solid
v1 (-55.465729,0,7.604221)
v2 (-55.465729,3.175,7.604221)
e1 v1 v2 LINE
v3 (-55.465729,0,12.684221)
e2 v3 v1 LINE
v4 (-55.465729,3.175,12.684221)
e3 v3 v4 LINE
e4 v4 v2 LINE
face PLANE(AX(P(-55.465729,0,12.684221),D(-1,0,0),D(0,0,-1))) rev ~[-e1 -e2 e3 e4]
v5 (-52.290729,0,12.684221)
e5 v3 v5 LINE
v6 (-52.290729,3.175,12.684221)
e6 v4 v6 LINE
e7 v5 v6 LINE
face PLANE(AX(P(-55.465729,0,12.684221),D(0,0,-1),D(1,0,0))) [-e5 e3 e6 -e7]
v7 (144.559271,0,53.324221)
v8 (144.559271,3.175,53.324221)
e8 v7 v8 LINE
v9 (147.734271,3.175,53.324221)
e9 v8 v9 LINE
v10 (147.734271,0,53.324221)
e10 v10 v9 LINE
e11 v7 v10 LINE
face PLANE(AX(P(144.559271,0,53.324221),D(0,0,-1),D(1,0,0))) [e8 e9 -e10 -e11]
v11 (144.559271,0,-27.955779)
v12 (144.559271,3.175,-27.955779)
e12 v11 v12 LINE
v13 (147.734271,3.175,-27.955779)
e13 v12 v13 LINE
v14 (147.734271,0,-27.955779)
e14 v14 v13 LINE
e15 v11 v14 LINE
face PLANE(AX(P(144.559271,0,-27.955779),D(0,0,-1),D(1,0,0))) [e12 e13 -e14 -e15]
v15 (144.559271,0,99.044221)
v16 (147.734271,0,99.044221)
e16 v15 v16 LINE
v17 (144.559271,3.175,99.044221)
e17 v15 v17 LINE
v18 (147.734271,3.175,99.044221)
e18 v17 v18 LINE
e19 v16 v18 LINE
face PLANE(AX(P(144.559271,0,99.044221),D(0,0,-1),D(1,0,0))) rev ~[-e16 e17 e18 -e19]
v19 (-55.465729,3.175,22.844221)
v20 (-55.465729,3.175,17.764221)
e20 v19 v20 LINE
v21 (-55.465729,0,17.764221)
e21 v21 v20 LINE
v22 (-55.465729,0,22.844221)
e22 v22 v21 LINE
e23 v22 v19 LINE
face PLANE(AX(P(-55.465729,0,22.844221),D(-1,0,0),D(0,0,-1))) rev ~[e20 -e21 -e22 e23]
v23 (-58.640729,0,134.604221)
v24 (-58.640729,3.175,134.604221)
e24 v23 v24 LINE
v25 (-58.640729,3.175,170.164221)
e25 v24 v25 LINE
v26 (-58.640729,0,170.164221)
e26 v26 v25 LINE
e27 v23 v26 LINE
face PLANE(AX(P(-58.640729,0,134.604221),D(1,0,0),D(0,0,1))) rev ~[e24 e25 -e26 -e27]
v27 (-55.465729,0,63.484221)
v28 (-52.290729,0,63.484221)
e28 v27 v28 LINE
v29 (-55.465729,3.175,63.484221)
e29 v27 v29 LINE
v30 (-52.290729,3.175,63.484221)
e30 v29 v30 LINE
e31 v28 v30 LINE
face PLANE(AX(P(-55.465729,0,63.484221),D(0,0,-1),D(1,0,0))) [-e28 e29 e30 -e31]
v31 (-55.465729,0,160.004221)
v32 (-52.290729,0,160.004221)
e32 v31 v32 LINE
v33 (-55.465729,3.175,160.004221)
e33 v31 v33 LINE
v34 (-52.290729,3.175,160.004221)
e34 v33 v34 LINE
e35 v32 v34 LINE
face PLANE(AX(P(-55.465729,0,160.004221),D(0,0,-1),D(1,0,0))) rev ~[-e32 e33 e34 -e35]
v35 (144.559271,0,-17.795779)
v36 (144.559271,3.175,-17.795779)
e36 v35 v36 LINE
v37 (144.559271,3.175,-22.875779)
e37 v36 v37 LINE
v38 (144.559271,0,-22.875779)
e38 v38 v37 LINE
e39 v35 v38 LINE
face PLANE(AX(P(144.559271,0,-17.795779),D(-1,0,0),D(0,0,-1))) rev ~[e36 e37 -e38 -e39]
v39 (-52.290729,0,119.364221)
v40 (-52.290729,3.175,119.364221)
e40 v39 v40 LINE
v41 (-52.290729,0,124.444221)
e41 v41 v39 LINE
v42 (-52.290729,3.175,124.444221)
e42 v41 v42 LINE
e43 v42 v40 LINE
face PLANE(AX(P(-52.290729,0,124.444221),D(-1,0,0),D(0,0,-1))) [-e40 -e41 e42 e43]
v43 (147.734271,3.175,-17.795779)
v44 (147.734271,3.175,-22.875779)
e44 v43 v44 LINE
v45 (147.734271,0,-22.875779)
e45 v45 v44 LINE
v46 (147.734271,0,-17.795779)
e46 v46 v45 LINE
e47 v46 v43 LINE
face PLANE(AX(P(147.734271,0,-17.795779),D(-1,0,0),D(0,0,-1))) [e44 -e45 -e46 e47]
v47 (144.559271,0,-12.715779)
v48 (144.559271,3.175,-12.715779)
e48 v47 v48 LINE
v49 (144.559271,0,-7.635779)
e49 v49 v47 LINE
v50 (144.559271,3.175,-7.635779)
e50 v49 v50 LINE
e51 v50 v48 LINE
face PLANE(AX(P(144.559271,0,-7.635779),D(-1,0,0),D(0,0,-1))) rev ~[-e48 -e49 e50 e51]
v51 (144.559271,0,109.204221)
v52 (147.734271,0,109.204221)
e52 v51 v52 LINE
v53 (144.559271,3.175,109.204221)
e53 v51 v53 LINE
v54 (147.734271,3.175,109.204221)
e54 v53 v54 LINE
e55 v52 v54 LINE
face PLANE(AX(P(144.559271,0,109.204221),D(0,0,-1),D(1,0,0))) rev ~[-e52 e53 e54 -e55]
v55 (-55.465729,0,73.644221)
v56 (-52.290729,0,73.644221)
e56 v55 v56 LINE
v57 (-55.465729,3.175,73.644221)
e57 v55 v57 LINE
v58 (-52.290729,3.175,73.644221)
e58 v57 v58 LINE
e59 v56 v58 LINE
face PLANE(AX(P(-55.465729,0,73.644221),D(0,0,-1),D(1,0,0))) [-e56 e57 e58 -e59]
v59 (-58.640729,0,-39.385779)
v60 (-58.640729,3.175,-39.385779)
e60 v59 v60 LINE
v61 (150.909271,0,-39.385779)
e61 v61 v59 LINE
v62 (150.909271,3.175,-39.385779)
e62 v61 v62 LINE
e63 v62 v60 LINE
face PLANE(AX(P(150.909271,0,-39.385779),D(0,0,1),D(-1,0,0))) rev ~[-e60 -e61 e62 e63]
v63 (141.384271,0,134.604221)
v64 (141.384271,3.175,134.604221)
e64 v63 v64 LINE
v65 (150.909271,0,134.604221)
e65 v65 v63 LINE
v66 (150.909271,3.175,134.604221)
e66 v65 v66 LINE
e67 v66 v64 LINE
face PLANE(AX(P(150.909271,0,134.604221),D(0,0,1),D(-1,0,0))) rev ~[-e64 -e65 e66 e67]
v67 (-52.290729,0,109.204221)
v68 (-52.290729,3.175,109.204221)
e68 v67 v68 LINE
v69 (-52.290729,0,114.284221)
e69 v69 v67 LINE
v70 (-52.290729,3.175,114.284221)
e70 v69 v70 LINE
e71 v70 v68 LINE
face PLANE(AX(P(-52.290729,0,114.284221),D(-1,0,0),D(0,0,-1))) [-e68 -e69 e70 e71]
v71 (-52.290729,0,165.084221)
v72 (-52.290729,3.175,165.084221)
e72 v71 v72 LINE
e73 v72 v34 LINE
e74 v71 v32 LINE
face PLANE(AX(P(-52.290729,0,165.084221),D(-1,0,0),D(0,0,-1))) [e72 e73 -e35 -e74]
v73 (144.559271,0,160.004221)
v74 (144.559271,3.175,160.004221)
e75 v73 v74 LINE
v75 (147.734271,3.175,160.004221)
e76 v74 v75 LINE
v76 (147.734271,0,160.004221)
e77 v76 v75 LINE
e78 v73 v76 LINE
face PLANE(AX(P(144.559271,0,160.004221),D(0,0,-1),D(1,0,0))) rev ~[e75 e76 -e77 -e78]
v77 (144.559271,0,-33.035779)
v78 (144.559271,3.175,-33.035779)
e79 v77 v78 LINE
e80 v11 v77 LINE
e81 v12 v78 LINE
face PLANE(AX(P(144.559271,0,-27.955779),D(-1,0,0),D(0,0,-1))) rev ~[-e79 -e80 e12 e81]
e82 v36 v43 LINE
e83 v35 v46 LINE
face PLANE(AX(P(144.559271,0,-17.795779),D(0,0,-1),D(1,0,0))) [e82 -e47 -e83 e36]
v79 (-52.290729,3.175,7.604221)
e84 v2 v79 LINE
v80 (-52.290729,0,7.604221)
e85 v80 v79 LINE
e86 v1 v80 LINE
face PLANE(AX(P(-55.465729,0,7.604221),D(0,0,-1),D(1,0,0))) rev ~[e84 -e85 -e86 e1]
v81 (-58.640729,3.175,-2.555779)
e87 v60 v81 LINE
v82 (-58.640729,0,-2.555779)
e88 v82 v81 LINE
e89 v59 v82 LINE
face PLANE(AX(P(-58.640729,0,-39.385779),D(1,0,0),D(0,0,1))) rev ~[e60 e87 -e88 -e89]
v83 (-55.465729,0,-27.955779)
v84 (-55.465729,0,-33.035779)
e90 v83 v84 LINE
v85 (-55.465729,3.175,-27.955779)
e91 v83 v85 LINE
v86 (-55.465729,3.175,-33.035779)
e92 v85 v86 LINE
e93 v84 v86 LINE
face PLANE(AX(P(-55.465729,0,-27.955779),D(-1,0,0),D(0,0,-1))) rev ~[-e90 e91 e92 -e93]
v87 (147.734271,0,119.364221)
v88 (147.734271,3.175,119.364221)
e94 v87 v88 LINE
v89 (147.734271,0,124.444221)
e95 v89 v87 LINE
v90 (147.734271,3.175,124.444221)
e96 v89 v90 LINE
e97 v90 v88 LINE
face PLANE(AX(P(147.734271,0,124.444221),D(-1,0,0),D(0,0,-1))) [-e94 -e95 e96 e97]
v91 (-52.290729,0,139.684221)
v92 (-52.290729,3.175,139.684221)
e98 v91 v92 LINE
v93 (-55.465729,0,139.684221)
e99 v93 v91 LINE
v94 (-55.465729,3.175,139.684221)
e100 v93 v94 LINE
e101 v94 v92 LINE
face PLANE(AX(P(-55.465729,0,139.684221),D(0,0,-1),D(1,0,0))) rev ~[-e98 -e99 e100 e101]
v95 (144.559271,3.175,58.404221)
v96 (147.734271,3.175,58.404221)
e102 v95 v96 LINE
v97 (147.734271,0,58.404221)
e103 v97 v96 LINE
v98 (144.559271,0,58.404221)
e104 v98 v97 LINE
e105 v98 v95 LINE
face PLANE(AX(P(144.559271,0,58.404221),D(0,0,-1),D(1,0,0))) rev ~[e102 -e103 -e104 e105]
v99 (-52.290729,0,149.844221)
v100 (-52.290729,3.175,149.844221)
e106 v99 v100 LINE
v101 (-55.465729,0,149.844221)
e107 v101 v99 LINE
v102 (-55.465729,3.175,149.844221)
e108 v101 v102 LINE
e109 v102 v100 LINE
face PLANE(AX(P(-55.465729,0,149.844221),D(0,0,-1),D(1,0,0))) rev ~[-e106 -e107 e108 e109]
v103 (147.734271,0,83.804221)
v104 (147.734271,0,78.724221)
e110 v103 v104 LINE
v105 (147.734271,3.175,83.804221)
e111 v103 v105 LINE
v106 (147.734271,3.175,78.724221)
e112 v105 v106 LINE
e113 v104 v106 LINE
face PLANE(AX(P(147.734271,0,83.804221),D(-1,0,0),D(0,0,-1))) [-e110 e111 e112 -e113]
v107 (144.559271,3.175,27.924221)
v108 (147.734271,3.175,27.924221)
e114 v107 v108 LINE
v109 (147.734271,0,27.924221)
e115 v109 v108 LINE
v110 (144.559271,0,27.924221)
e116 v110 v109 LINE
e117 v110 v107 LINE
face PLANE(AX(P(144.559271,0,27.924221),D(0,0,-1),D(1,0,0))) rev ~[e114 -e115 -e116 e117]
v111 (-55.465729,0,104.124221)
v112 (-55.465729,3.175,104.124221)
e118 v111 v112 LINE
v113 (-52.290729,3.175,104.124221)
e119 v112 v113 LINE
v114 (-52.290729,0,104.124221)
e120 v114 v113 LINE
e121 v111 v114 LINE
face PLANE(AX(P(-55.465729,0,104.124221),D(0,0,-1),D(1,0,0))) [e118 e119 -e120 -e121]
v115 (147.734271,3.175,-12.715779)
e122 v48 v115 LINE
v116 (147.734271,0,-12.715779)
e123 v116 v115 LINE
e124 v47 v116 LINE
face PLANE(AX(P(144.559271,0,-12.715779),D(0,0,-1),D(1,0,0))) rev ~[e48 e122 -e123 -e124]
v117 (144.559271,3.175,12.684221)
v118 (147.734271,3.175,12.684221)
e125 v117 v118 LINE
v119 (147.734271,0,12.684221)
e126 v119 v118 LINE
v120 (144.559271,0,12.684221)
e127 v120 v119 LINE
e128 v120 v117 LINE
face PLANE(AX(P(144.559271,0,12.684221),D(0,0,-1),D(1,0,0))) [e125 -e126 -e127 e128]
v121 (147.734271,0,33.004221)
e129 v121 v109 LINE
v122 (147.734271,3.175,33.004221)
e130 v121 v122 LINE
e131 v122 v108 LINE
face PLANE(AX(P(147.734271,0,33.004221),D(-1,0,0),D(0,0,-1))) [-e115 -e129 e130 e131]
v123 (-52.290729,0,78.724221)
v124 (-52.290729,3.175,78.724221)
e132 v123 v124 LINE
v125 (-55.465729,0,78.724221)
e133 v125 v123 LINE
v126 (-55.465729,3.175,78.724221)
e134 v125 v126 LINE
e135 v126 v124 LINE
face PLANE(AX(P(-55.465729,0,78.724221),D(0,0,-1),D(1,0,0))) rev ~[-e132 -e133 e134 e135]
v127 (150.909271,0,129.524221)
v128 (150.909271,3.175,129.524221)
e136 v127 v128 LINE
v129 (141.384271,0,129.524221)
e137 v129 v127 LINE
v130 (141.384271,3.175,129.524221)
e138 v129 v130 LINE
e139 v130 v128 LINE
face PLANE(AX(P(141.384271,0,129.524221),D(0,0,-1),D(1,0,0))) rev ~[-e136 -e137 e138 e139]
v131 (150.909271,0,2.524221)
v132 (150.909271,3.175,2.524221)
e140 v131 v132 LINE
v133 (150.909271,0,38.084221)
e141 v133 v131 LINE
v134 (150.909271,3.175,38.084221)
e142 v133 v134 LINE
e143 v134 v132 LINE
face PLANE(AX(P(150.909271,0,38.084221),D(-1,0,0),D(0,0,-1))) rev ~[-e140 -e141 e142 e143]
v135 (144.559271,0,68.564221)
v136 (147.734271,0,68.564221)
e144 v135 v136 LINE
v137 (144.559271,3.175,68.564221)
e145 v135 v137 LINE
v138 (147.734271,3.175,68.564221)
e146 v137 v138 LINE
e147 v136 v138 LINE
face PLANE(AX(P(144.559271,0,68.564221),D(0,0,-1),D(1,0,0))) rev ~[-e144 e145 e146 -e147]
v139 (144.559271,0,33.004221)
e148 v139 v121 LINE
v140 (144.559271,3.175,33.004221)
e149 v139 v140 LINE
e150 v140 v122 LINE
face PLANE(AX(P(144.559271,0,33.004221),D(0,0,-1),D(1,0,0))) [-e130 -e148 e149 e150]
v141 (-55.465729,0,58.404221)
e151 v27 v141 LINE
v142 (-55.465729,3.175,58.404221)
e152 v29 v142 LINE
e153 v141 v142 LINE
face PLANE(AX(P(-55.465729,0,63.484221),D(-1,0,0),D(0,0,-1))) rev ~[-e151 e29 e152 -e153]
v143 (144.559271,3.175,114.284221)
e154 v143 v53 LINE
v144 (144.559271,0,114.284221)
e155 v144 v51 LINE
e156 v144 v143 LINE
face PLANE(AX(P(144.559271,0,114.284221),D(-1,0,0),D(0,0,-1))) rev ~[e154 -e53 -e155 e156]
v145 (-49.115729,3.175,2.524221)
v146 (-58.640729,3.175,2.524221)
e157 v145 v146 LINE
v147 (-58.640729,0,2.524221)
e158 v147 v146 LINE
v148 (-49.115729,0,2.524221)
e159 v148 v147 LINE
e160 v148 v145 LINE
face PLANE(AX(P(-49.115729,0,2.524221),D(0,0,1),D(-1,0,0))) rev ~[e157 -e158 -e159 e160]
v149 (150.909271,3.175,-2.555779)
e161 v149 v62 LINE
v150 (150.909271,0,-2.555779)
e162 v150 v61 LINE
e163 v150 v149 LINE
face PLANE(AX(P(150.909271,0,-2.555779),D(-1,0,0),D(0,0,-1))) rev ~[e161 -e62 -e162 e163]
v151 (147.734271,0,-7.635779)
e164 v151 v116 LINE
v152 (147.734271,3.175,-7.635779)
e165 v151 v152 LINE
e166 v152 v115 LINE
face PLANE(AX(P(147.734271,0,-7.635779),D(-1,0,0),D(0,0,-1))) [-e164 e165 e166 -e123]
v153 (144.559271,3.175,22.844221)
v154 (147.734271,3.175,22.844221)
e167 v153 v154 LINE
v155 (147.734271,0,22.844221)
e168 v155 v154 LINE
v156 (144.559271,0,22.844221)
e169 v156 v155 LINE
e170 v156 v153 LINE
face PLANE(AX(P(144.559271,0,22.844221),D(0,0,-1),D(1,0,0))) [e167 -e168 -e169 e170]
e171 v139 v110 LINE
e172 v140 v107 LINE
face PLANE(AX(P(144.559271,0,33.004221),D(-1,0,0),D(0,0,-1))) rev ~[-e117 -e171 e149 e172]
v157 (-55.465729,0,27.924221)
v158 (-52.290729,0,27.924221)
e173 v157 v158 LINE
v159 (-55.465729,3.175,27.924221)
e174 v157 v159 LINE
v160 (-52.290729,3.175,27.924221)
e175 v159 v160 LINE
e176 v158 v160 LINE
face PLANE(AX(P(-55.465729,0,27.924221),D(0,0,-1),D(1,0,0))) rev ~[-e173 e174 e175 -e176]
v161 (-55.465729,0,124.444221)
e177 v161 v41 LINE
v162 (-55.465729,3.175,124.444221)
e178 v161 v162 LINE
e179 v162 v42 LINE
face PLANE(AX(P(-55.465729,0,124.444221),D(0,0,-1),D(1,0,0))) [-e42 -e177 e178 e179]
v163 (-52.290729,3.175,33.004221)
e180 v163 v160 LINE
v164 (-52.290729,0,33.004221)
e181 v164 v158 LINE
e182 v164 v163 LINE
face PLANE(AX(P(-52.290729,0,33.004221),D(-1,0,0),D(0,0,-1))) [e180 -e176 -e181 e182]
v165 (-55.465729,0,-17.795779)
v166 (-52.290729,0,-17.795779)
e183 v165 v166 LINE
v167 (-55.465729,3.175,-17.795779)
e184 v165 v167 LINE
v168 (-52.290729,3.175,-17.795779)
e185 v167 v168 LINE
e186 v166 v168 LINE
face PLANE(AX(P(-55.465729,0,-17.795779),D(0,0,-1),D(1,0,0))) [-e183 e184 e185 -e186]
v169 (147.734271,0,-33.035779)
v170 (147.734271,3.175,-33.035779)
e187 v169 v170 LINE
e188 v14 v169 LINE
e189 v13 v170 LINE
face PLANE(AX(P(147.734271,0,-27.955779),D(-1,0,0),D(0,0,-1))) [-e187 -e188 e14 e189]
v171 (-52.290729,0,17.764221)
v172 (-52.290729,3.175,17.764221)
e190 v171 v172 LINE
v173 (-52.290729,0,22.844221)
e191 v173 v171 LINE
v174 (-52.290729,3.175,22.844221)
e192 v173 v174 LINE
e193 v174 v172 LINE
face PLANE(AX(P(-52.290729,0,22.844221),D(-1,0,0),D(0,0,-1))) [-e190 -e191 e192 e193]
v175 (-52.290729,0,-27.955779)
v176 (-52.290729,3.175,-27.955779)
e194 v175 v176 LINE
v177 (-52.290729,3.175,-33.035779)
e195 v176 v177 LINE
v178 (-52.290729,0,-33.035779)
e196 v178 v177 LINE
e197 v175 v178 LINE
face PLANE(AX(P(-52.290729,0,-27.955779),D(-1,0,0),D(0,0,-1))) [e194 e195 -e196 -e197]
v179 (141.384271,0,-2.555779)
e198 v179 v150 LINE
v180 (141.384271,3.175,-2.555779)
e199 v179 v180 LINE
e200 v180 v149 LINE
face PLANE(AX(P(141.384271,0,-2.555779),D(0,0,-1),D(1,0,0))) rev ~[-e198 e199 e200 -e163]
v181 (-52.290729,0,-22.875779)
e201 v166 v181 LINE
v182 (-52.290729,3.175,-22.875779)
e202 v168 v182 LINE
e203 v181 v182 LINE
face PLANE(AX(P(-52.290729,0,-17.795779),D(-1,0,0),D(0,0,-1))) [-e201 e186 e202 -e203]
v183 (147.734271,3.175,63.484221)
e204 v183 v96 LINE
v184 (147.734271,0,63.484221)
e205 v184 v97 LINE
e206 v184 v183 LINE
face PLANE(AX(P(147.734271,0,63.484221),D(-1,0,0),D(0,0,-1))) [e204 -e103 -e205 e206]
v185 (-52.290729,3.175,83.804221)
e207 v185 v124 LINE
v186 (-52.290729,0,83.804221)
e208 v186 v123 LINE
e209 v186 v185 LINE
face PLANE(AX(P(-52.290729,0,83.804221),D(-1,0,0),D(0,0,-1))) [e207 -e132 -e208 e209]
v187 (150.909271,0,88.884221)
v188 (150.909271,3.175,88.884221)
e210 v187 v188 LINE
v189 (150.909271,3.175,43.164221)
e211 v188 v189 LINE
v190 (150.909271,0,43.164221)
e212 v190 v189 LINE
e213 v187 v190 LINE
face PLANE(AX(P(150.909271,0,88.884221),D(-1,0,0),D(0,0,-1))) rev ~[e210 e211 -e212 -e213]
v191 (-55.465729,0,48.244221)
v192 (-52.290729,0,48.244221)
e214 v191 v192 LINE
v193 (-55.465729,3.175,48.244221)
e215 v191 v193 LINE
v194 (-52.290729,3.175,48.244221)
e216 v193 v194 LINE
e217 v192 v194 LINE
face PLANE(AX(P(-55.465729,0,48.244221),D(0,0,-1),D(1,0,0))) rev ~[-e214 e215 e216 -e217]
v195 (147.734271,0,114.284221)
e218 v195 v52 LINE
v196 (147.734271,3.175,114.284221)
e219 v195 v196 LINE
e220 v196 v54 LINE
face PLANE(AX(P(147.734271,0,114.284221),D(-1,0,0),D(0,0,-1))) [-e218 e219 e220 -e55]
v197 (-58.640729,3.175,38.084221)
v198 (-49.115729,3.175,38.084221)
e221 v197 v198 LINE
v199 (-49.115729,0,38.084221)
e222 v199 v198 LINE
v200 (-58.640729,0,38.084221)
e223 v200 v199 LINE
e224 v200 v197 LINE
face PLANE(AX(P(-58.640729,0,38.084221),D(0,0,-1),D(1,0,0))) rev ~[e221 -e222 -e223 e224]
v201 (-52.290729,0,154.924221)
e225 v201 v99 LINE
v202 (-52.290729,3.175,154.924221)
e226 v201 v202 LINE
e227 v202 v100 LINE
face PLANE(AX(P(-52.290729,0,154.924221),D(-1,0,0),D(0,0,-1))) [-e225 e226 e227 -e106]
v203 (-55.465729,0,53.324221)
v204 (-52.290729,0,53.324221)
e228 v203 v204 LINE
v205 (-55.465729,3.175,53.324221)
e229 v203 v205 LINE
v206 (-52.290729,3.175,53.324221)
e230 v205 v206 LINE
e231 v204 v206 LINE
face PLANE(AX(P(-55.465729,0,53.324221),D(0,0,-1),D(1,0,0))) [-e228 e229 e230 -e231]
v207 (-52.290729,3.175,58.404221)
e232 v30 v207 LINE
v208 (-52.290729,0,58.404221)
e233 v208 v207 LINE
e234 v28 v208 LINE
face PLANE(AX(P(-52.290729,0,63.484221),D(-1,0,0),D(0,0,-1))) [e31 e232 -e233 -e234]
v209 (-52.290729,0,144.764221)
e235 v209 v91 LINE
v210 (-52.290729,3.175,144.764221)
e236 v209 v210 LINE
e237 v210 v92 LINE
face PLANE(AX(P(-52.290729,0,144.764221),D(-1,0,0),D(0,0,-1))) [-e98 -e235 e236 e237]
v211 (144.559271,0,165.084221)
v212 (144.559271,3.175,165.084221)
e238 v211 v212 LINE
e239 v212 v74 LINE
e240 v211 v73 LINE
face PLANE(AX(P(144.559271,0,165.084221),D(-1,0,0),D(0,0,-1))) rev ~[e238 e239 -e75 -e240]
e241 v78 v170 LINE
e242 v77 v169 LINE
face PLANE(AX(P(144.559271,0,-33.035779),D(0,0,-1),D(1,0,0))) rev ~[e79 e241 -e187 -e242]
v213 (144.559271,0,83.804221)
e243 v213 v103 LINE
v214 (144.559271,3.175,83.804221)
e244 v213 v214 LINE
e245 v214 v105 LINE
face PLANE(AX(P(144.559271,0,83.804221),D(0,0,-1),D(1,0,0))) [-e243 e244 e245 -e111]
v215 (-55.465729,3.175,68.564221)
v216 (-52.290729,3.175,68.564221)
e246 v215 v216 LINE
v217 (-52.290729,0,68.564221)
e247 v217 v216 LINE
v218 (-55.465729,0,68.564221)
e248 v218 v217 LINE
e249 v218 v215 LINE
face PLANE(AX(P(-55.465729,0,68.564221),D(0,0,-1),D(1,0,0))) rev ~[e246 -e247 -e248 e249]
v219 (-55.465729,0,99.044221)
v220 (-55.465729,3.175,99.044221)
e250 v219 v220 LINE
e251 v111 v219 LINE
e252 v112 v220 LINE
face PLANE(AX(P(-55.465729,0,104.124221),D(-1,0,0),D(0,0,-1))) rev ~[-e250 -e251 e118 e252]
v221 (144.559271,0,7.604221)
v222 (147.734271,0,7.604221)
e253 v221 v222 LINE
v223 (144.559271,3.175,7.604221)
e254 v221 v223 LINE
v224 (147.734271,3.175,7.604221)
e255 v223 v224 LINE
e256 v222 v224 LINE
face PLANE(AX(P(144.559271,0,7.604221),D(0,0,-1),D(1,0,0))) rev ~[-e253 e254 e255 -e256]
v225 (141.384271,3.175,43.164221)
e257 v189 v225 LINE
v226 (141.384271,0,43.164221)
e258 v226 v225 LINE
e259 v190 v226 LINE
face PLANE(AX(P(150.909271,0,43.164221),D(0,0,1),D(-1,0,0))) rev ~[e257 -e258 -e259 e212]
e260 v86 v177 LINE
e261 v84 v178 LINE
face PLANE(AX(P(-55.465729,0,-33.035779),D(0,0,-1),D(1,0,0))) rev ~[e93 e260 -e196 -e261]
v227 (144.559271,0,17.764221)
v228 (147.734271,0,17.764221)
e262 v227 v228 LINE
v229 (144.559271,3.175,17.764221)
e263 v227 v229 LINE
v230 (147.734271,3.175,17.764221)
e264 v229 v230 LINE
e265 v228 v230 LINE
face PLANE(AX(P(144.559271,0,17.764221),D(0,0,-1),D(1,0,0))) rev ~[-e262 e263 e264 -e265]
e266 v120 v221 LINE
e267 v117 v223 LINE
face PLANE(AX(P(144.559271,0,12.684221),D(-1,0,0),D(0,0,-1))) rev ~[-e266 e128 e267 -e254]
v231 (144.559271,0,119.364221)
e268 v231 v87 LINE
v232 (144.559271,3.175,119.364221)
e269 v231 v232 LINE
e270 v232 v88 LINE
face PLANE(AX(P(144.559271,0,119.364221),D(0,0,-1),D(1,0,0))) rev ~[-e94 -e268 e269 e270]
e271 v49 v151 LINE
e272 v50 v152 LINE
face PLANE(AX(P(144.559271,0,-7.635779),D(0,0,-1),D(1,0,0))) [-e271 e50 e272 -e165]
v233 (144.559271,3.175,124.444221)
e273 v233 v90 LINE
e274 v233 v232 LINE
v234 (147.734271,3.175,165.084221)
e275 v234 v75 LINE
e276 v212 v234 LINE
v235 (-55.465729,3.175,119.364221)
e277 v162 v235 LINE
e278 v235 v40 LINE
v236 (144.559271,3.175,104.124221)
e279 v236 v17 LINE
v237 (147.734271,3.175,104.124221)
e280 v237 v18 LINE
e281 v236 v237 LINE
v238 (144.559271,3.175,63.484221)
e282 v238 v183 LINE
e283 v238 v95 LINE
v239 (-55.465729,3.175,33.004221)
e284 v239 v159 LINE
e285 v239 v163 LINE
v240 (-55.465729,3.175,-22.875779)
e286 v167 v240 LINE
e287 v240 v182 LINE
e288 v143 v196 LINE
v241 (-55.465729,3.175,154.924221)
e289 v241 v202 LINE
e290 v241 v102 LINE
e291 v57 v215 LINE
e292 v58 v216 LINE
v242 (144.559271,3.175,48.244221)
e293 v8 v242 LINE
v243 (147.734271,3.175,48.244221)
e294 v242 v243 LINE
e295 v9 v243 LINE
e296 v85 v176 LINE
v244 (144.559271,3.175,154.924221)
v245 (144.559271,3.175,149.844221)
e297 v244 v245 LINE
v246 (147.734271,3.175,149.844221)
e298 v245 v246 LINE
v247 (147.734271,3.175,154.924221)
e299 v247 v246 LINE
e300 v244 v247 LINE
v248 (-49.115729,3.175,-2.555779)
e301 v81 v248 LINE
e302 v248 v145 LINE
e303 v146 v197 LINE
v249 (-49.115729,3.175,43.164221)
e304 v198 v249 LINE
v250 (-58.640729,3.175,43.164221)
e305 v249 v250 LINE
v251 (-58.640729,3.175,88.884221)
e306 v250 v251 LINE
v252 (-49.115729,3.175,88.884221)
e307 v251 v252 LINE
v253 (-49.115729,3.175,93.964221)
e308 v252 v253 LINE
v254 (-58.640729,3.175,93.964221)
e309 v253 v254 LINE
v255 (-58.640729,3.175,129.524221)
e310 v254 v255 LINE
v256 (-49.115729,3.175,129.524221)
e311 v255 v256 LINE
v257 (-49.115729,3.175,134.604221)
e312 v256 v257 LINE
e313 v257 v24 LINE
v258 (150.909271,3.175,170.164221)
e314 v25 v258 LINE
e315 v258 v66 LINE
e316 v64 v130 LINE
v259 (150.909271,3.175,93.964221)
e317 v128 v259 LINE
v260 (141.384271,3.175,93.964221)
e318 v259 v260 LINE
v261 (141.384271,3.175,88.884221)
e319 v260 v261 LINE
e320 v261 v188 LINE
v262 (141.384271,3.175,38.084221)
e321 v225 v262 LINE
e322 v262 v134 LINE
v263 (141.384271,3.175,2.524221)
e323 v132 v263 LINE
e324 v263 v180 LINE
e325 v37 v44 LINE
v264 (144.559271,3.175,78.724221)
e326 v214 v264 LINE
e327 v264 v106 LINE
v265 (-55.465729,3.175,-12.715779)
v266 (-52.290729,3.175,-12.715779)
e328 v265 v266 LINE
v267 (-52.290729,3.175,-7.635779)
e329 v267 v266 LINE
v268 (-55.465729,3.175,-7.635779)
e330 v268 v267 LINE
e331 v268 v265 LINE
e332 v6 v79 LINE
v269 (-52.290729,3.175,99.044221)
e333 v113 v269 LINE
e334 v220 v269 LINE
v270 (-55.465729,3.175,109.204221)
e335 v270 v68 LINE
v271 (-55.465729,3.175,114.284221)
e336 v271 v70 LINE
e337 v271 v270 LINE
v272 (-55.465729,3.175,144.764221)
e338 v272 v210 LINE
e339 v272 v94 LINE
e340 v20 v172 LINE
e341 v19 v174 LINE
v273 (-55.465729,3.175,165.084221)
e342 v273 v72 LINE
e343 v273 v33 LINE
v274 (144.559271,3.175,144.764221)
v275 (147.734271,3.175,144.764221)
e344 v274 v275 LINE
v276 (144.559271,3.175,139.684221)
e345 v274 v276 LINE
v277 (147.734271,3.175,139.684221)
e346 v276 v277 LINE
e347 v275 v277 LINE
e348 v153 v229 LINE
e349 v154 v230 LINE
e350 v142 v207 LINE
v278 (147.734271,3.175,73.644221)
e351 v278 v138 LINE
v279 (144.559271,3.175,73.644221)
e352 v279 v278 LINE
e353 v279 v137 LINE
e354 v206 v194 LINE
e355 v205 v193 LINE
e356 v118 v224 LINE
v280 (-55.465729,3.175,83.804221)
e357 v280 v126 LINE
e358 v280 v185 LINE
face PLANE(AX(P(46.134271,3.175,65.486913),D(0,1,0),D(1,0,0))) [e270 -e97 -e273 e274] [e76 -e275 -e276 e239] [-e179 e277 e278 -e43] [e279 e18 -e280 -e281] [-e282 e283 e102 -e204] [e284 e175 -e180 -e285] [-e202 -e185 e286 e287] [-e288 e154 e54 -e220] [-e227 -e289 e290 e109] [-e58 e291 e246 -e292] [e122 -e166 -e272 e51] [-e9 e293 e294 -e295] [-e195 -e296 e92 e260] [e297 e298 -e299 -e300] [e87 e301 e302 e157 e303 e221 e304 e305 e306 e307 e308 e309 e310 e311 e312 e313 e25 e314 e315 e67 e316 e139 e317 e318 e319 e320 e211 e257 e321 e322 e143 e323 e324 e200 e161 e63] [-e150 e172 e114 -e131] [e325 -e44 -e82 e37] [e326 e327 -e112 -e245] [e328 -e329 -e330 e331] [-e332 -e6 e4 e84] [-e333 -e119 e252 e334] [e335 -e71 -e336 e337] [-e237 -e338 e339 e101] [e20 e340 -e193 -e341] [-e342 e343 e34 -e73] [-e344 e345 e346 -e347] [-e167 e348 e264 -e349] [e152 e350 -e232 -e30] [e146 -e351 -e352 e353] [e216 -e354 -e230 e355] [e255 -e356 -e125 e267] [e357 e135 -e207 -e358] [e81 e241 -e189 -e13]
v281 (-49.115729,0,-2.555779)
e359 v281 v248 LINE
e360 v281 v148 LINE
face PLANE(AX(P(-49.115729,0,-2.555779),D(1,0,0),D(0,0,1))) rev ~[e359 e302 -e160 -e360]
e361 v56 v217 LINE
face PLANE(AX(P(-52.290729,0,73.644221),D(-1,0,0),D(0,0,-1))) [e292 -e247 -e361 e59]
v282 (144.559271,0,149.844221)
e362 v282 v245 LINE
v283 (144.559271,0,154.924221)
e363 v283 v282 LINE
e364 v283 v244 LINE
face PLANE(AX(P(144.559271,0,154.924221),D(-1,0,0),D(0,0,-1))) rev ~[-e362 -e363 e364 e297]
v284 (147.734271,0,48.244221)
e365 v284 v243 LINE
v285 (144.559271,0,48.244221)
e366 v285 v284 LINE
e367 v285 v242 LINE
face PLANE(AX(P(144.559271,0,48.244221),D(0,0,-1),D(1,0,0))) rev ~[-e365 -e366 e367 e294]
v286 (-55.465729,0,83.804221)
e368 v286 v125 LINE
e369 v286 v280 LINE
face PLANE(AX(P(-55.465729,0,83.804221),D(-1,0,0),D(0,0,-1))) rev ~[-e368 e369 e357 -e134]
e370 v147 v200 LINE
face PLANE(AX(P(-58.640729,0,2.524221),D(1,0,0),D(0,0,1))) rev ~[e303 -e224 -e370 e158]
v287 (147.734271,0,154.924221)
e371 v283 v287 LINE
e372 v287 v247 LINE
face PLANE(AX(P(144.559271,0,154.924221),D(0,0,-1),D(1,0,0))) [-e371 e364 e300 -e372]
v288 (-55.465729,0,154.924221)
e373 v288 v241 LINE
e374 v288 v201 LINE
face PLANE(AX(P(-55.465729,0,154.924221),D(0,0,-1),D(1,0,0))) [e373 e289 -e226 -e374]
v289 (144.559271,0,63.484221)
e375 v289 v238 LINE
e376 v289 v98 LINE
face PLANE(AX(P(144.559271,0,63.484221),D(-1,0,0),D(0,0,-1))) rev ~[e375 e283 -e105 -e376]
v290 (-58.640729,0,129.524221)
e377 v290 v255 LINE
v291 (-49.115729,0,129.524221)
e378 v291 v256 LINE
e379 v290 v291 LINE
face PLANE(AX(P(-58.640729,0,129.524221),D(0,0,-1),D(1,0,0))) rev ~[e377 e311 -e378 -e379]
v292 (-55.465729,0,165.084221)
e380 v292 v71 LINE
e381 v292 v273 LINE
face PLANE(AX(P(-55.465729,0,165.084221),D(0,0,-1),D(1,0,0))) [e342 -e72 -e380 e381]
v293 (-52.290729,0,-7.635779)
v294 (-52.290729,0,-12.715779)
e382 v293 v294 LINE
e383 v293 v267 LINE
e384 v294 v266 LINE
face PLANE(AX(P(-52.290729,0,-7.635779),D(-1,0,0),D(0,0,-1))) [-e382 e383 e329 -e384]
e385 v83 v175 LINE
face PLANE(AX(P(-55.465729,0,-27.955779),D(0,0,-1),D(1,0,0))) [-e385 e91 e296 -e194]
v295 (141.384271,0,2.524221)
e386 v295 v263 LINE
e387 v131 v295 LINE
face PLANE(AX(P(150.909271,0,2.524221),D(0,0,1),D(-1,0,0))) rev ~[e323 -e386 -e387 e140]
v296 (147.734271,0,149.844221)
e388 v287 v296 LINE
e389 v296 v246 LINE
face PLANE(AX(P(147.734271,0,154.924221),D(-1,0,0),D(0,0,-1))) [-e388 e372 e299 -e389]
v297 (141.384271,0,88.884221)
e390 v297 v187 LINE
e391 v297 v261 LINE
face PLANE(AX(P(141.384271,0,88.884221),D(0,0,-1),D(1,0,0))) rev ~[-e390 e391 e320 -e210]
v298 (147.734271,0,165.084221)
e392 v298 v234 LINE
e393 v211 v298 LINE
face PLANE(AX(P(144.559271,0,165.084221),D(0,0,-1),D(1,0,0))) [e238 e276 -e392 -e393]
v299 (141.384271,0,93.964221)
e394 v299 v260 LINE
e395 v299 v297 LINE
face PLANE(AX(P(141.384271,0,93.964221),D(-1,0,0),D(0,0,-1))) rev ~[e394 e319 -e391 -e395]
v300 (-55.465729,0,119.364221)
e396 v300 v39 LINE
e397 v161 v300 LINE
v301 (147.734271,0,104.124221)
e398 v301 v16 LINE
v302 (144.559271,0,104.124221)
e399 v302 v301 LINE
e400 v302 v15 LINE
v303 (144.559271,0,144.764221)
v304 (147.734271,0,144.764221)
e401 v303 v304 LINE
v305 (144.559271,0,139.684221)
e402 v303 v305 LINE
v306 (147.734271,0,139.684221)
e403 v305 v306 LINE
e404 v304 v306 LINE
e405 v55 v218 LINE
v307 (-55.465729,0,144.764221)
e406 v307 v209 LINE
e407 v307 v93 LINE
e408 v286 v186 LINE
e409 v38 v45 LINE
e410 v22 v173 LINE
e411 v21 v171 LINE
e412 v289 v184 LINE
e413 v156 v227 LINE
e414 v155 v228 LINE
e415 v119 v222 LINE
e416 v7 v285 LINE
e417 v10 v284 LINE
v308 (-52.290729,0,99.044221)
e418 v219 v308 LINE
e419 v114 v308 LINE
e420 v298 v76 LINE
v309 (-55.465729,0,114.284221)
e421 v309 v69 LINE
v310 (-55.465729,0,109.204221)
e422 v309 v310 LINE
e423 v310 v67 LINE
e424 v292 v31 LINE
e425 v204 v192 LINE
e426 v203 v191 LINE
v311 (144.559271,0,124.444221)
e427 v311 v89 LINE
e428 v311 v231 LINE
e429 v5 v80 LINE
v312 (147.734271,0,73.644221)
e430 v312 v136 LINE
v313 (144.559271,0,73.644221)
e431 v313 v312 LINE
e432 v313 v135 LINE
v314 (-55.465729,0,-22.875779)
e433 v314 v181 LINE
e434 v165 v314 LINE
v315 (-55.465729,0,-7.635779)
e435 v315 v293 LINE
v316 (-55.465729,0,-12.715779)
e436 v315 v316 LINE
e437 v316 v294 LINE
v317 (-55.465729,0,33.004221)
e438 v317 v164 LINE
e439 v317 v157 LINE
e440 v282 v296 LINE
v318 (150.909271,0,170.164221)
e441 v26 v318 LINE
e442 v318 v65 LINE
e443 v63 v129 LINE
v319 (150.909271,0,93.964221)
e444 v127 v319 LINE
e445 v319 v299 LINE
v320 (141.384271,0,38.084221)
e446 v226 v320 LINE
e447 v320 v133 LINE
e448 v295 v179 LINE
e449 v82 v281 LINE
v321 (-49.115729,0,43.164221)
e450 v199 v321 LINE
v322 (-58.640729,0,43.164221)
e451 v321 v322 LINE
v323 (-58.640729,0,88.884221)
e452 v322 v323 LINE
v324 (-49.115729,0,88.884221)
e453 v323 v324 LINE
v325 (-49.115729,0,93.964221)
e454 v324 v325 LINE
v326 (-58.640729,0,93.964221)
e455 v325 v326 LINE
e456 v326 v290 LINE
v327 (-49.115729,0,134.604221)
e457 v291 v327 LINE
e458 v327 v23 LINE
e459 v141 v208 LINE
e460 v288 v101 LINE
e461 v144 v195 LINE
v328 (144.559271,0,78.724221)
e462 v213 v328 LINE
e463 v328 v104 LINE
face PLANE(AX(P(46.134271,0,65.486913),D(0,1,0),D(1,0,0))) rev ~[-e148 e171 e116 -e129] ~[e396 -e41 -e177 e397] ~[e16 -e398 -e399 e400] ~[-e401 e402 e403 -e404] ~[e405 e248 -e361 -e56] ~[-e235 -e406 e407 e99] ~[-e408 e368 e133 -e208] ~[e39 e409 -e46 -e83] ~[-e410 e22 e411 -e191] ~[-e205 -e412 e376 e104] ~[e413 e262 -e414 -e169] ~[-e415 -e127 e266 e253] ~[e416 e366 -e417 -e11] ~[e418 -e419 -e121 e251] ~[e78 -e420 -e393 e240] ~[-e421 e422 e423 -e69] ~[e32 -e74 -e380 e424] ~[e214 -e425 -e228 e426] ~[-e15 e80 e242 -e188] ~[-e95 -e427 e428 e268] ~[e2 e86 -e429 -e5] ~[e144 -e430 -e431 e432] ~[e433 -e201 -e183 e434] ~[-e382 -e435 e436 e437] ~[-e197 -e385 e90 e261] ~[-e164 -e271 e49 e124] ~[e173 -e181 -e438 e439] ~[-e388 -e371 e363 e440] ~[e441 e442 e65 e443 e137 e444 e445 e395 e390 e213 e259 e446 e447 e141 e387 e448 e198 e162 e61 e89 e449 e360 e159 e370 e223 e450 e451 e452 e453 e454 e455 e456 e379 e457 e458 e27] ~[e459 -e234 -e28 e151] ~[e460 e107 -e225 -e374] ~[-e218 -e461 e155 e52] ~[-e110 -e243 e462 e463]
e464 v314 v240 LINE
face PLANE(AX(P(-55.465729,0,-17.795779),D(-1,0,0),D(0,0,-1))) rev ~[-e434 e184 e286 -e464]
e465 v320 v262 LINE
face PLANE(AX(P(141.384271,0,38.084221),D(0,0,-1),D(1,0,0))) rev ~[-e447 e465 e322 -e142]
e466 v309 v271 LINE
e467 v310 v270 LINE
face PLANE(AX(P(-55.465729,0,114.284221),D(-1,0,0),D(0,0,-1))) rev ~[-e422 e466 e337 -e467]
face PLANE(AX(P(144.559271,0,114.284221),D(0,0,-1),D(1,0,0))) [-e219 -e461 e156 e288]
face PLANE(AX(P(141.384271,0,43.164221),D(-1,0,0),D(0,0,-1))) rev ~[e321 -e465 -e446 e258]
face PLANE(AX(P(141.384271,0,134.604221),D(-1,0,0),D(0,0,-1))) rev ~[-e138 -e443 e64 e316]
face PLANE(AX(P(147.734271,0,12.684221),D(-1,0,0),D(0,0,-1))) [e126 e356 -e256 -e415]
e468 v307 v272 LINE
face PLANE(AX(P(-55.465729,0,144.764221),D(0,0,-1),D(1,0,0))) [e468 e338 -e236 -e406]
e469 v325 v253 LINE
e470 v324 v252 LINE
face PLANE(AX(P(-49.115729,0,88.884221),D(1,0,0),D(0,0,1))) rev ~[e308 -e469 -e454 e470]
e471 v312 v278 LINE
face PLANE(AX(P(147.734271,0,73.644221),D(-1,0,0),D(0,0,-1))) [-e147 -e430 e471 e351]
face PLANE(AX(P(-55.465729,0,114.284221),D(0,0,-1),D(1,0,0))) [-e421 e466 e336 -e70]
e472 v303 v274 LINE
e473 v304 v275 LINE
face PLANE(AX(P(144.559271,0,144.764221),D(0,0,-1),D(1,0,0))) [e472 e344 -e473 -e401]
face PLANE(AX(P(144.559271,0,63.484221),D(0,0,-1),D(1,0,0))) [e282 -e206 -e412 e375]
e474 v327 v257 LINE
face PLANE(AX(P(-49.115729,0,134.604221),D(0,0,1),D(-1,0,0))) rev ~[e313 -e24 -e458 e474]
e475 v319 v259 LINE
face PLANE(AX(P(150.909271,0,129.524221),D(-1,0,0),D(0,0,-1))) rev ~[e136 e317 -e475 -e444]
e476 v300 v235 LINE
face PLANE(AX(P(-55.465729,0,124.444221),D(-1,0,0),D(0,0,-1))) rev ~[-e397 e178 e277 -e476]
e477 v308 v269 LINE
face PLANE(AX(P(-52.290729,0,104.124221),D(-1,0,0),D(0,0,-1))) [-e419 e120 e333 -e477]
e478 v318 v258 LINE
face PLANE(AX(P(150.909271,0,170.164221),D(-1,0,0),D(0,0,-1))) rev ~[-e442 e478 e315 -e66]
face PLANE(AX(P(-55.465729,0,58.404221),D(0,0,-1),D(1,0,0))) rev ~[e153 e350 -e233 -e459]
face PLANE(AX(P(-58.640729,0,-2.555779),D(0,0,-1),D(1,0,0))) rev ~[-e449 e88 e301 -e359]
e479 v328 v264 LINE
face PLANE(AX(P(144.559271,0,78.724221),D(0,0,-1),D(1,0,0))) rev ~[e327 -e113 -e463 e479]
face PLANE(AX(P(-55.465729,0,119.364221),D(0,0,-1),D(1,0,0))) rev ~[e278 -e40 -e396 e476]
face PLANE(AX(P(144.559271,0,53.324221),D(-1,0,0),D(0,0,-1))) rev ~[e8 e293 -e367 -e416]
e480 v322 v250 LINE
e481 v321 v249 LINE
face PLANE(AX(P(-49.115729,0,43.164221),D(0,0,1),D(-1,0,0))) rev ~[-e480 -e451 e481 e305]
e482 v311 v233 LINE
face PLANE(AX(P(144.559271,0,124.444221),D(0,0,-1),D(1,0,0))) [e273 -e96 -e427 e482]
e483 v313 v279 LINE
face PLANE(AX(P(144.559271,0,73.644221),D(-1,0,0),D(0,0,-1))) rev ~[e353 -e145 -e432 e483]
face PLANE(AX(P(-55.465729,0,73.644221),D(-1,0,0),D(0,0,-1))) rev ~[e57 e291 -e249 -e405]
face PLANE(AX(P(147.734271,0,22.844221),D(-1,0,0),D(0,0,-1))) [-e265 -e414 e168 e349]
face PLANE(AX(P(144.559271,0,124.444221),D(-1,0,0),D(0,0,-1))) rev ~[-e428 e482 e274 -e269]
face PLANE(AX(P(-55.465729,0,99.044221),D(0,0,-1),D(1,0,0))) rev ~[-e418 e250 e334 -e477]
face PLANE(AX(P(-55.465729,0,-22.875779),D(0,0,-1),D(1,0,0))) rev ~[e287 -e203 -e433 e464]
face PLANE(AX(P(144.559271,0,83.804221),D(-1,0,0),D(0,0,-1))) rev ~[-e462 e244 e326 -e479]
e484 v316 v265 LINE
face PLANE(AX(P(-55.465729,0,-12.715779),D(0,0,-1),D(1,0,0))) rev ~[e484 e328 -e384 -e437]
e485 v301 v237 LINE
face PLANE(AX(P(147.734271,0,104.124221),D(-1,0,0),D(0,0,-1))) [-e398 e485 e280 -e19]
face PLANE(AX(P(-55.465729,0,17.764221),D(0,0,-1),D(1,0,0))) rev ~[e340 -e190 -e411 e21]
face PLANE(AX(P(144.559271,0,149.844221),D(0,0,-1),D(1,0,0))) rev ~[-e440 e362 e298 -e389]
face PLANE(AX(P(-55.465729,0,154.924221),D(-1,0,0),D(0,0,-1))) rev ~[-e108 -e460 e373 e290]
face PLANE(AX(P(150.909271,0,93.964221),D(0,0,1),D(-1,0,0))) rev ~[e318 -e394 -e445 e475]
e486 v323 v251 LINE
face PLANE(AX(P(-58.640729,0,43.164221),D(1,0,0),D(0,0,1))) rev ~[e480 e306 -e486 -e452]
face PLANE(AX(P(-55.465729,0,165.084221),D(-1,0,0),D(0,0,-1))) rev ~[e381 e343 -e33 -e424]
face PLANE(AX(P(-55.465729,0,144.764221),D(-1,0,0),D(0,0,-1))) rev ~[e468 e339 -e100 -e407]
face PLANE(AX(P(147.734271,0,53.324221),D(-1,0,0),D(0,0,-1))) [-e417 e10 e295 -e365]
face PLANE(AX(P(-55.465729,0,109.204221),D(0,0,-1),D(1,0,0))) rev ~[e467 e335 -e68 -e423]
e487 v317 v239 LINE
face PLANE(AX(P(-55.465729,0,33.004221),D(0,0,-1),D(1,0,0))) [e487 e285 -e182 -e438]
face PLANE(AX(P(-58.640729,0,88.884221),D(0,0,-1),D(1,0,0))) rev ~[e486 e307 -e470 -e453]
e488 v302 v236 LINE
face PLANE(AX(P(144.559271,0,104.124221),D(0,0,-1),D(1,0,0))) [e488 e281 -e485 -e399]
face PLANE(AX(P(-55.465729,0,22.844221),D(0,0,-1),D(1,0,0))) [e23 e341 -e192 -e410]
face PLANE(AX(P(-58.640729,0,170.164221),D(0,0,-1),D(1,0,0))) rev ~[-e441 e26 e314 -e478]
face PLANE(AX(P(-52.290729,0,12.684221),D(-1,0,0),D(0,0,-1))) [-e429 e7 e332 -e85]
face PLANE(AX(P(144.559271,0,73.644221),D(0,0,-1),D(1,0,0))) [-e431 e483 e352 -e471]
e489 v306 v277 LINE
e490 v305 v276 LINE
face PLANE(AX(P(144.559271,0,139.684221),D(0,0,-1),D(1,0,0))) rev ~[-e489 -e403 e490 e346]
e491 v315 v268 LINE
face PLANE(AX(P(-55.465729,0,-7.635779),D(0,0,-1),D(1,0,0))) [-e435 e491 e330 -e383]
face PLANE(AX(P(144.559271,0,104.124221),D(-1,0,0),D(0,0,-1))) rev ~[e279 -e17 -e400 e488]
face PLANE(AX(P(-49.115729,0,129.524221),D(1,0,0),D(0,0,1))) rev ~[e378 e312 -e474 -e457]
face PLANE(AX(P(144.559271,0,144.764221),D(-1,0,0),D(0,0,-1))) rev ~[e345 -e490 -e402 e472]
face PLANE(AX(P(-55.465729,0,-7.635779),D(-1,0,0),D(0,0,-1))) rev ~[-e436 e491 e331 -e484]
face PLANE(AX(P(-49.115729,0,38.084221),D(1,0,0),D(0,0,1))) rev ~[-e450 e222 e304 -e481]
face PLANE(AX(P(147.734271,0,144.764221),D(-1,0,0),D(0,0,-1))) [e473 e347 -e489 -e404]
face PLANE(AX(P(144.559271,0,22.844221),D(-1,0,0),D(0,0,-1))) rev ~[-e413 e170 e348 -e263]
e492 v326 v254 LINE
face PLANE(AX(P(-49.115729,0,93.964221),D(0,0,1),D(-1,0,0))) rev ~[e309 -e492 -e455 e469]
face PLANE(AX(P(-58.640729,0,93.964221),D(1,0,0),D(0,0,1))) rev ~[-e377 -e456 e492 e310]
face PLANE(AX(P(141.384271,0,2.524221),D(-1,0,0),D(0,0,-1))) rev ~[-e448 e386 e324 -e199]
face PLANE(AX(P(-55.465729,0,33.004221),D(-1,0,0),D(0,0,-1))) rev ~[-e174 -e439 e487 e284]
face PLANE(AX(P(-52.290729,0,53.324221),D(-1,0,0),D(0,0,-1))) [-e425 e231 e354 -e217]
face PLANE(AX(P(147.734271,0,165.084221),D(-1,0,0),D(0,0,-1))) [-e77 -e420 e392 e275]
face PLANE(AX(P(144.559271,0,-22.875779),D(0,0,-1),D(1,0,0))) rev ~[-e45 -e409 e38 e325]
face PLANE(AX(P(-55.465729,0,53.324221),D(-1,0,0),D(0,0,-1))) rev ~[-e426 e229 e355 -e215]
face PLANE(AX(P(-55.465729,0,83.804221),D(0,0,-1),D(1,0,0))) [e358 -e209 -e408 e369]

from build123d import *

# Parameters (mm, degrees)
SKETCH2_W           = 3.175
SKETCH2_H           = 5.08
BOSS_EXTRUDE1_DEPTH = 3.175


with BuildPart() as part:
    # Sketch2 → Boss-Extrude1 (new body)
    with BuildSketch(Plane(origin=(0, 0, 0), x_dir=(1, 0, 0), z_dir=(0, 1, 0))):
        Polygon((-58.640729436, -170.164220965), (150.909270564, -170.164220965), (150.909270564, -134.604220965), (141.384270564, -134.604220965), (141.384270564, -129.524220965), (150.909270564, -129.524220965), (150.909270564, -93.964220965), (141.384270564, -93.964220965), (141.384270564, -88.884220965), (150.909270564, -88.884220965), (150.909270564, -43.164220965), (141.384270564, -43.164220965), (141.384270564, -38.084220965), (150.909270564, -38.084220965), (150.909270564, -2.524220965), (141.384270564, -2.524220965), (141.384270564, 2.555779035), (150.909270564, 2.555779035), (150.909270564, 39.385779035), (-58.640729436, 39.385779035), (-58.640729436, 2.555779035), (-49.115729436, 2.555779035), (-49.115729436, -2.524220965), (-58.640729436, -2.524220965), (-58.640729436, -38.084220965), (-49.115729436, -38.084220965), (-49.115729436, -43.164220965), (-58.640729436, -43.164220965), (-58.640729436, -88.884220965), (-49.115729436, -88.884220965), (-49.115729436, -93.964220965), (-58.640729436, -93.964220965), (-58.640729436, -129.524220965), (-49.115729436, -129.524220965), (-49.115729436, -134.604220965), (-58.640729436, -134.604220965), align=None)
        with Locations((-53.878229436, -162.544220965)):
            Rectangle(SKETCH2_W, SKETCH2_H, mode=Mode.SUBTRACT)
        with Locations((146.146770564, -162.544220965)):
            Rectangle(SKETCH2_W, SKETCH2_H, mode=Mode.SUBTRACT)
        with Locations((-53.878229436, -152.384220965)):
            Rectangle(SKETCH2_W, SKETCH2_H, mode=Mode.SUBTRACT)
        with Locations((-53.878229436, -142.224220965)):
            Rectangle(SKETCH2_W, SKETCH2_H, mode=Mode.SUBTRACT)
        with Locations((-53.878229436, -121.904220965)):
            Rectangle(SKETCH2_W, SKETCH2_H, mode=Mode.SUBTRACT)
        with Locations((-53.878229436, -111.744220965)):
            Rectangle(SKETCH2_W, SKETCH2_H, mode=Mode.SUBTRACT)
        with Locations((-53.878229436, -101.584220965)):
            Rectangle(SKETCH2_W, SKETCH2_H, mode=Mode.SUBTRACT)
        with Locations((-53.878229436, -81.264220965)):
            Rectangle(SKETCH2_W, SKETCH2_H, mode=Mode.SUBTRACT)
        with Locations((-53.878229436, -71.104220965)):
            Rectangle(SKETCH2_W, SKETCH2_H, mode=Mode.SUBTRACT)
        with Locations((-53.878229436, -60.944220965)):
            Rectangle(SKETCH2_W, SKETCH2_H, mode=Mode.SUBTRACT)
        with Locations((-53.878229436, -50.784220965)):
            Rectangle(SKETCH2_W, SKETCH2_H, mode=Mode.SUBTRACT)
        with Locations((-53.878229436, -30.464220965)):
            Rectangle(SKETCH2_W, SKETCH2_H, mode=Mode.SUBTRACT)
        with Locations((-53.878229436, -20.304220965)):
            Rectangle(SKETCH2_W, SKETCH2_H, mode=Mode.SUBTRACT)
        with Locations((-53.878229436, -10.144220965)):
            Rectangle(SKETCH2_W, SKETCH2_H, mode=Mode.SUBTRACT)
        with Locations((-53.878229436, 10.175779035)):
            Rectangle(SKETCH2_W, SKETCH2_H, mode=Mode.SUBTRACT)
        with Locations((-53.878229436, 20.335779035)):
            Rectangle(SKETCH2_W, SKETCH2_H, mode=Mode.SUBTRACT)
        with Locations((-53.878229436, 30.495779035)):
            Rectangle(SKETCH2_W, SKETCH2_H, mode=Mode.SUBTRACT)
        with Locations((146.146770564, 30.495779035)):
            Rectangle(SKETCH2_W, SKETCH2_H, mode=Mode.SUBTRACT)
        with Locations((146.146770564, 20.335779035)):
            Rectangle(SKETCH2_W, SKETCH2_H, mode=Mode.SUBTRACT)
        with Locations((146.146770564, 10.175779035)):
            Rectangle(SKETCH2_W, SKETCH2_H, mode=Mode.SUBTRACT)
        with Locations((146.146770564, -10.144220965)):
            Rectangle(SKETCH2_W, SKETCH2_H, mode=Mode.SUBTRACT)
        with Locations((146.146770564, -20.304220965)):
            Rectangle(SKETCH2_W, SKETCH2_H, mode=Mode.SUBTRACT)
        with Locations((146.146770564, -30.464220965)):
            Rectangle(SKETCH2_W, SKETCH2_H, mode=Mode.SUBTRACT)
        with Locations((146.146770564, -50.784220965)):
            Rectangle(SKETCH2_W, SKETCH2_H, mode=Mode.SUBTRACT)
        with Locations((146.146770564, -60.944220965)):
            Rectangle(SKETCH2_W, SKETCH2_H, mode=Mode.SUBTRACT)
        with Locations((146.146770564, -71.104220965)):
            Rectangle(SKETCH2_W, SKETCH2_H, mode=Mode.SUBTRACT)
        with Locations((146.146770564, -81.264220965)):
            Rectangle(SKETCH2_W, SKETCH2_H, mode=Mode.SUBTRACT)
        with Locations((146.146770564, -101.584220965)):
            Rectangle(SKETCH2_W, SKETCH2_H, mode=Mode.SUBTRACT)
        with Locations((146.146770564, -111.744220965)):
            Rectangle(SKETCH2_W, SKETCH2_H, mode=Mode.SUBTRACT)
        with Locations((146.146770564, -121.904220965)):
            Rectangle(SKETCH2_W, SKETCH2_H, mode=Mode.SUBTRACT)
        with Locations((146.146770564, -142.224220965)):
            Rectangle(SKETCH2_W, SKETCH2_H, mode=Mode.SUBTRACT)
        with Locations((146.146770564, -152.384220965)):
            Rectangle(SKETCH2_W, SKETCH2_H, mode=Mode.SUBTRACT)
    extrude(amount=BOSS_EXTRUDE1_DEPTH)


solid = part.part
